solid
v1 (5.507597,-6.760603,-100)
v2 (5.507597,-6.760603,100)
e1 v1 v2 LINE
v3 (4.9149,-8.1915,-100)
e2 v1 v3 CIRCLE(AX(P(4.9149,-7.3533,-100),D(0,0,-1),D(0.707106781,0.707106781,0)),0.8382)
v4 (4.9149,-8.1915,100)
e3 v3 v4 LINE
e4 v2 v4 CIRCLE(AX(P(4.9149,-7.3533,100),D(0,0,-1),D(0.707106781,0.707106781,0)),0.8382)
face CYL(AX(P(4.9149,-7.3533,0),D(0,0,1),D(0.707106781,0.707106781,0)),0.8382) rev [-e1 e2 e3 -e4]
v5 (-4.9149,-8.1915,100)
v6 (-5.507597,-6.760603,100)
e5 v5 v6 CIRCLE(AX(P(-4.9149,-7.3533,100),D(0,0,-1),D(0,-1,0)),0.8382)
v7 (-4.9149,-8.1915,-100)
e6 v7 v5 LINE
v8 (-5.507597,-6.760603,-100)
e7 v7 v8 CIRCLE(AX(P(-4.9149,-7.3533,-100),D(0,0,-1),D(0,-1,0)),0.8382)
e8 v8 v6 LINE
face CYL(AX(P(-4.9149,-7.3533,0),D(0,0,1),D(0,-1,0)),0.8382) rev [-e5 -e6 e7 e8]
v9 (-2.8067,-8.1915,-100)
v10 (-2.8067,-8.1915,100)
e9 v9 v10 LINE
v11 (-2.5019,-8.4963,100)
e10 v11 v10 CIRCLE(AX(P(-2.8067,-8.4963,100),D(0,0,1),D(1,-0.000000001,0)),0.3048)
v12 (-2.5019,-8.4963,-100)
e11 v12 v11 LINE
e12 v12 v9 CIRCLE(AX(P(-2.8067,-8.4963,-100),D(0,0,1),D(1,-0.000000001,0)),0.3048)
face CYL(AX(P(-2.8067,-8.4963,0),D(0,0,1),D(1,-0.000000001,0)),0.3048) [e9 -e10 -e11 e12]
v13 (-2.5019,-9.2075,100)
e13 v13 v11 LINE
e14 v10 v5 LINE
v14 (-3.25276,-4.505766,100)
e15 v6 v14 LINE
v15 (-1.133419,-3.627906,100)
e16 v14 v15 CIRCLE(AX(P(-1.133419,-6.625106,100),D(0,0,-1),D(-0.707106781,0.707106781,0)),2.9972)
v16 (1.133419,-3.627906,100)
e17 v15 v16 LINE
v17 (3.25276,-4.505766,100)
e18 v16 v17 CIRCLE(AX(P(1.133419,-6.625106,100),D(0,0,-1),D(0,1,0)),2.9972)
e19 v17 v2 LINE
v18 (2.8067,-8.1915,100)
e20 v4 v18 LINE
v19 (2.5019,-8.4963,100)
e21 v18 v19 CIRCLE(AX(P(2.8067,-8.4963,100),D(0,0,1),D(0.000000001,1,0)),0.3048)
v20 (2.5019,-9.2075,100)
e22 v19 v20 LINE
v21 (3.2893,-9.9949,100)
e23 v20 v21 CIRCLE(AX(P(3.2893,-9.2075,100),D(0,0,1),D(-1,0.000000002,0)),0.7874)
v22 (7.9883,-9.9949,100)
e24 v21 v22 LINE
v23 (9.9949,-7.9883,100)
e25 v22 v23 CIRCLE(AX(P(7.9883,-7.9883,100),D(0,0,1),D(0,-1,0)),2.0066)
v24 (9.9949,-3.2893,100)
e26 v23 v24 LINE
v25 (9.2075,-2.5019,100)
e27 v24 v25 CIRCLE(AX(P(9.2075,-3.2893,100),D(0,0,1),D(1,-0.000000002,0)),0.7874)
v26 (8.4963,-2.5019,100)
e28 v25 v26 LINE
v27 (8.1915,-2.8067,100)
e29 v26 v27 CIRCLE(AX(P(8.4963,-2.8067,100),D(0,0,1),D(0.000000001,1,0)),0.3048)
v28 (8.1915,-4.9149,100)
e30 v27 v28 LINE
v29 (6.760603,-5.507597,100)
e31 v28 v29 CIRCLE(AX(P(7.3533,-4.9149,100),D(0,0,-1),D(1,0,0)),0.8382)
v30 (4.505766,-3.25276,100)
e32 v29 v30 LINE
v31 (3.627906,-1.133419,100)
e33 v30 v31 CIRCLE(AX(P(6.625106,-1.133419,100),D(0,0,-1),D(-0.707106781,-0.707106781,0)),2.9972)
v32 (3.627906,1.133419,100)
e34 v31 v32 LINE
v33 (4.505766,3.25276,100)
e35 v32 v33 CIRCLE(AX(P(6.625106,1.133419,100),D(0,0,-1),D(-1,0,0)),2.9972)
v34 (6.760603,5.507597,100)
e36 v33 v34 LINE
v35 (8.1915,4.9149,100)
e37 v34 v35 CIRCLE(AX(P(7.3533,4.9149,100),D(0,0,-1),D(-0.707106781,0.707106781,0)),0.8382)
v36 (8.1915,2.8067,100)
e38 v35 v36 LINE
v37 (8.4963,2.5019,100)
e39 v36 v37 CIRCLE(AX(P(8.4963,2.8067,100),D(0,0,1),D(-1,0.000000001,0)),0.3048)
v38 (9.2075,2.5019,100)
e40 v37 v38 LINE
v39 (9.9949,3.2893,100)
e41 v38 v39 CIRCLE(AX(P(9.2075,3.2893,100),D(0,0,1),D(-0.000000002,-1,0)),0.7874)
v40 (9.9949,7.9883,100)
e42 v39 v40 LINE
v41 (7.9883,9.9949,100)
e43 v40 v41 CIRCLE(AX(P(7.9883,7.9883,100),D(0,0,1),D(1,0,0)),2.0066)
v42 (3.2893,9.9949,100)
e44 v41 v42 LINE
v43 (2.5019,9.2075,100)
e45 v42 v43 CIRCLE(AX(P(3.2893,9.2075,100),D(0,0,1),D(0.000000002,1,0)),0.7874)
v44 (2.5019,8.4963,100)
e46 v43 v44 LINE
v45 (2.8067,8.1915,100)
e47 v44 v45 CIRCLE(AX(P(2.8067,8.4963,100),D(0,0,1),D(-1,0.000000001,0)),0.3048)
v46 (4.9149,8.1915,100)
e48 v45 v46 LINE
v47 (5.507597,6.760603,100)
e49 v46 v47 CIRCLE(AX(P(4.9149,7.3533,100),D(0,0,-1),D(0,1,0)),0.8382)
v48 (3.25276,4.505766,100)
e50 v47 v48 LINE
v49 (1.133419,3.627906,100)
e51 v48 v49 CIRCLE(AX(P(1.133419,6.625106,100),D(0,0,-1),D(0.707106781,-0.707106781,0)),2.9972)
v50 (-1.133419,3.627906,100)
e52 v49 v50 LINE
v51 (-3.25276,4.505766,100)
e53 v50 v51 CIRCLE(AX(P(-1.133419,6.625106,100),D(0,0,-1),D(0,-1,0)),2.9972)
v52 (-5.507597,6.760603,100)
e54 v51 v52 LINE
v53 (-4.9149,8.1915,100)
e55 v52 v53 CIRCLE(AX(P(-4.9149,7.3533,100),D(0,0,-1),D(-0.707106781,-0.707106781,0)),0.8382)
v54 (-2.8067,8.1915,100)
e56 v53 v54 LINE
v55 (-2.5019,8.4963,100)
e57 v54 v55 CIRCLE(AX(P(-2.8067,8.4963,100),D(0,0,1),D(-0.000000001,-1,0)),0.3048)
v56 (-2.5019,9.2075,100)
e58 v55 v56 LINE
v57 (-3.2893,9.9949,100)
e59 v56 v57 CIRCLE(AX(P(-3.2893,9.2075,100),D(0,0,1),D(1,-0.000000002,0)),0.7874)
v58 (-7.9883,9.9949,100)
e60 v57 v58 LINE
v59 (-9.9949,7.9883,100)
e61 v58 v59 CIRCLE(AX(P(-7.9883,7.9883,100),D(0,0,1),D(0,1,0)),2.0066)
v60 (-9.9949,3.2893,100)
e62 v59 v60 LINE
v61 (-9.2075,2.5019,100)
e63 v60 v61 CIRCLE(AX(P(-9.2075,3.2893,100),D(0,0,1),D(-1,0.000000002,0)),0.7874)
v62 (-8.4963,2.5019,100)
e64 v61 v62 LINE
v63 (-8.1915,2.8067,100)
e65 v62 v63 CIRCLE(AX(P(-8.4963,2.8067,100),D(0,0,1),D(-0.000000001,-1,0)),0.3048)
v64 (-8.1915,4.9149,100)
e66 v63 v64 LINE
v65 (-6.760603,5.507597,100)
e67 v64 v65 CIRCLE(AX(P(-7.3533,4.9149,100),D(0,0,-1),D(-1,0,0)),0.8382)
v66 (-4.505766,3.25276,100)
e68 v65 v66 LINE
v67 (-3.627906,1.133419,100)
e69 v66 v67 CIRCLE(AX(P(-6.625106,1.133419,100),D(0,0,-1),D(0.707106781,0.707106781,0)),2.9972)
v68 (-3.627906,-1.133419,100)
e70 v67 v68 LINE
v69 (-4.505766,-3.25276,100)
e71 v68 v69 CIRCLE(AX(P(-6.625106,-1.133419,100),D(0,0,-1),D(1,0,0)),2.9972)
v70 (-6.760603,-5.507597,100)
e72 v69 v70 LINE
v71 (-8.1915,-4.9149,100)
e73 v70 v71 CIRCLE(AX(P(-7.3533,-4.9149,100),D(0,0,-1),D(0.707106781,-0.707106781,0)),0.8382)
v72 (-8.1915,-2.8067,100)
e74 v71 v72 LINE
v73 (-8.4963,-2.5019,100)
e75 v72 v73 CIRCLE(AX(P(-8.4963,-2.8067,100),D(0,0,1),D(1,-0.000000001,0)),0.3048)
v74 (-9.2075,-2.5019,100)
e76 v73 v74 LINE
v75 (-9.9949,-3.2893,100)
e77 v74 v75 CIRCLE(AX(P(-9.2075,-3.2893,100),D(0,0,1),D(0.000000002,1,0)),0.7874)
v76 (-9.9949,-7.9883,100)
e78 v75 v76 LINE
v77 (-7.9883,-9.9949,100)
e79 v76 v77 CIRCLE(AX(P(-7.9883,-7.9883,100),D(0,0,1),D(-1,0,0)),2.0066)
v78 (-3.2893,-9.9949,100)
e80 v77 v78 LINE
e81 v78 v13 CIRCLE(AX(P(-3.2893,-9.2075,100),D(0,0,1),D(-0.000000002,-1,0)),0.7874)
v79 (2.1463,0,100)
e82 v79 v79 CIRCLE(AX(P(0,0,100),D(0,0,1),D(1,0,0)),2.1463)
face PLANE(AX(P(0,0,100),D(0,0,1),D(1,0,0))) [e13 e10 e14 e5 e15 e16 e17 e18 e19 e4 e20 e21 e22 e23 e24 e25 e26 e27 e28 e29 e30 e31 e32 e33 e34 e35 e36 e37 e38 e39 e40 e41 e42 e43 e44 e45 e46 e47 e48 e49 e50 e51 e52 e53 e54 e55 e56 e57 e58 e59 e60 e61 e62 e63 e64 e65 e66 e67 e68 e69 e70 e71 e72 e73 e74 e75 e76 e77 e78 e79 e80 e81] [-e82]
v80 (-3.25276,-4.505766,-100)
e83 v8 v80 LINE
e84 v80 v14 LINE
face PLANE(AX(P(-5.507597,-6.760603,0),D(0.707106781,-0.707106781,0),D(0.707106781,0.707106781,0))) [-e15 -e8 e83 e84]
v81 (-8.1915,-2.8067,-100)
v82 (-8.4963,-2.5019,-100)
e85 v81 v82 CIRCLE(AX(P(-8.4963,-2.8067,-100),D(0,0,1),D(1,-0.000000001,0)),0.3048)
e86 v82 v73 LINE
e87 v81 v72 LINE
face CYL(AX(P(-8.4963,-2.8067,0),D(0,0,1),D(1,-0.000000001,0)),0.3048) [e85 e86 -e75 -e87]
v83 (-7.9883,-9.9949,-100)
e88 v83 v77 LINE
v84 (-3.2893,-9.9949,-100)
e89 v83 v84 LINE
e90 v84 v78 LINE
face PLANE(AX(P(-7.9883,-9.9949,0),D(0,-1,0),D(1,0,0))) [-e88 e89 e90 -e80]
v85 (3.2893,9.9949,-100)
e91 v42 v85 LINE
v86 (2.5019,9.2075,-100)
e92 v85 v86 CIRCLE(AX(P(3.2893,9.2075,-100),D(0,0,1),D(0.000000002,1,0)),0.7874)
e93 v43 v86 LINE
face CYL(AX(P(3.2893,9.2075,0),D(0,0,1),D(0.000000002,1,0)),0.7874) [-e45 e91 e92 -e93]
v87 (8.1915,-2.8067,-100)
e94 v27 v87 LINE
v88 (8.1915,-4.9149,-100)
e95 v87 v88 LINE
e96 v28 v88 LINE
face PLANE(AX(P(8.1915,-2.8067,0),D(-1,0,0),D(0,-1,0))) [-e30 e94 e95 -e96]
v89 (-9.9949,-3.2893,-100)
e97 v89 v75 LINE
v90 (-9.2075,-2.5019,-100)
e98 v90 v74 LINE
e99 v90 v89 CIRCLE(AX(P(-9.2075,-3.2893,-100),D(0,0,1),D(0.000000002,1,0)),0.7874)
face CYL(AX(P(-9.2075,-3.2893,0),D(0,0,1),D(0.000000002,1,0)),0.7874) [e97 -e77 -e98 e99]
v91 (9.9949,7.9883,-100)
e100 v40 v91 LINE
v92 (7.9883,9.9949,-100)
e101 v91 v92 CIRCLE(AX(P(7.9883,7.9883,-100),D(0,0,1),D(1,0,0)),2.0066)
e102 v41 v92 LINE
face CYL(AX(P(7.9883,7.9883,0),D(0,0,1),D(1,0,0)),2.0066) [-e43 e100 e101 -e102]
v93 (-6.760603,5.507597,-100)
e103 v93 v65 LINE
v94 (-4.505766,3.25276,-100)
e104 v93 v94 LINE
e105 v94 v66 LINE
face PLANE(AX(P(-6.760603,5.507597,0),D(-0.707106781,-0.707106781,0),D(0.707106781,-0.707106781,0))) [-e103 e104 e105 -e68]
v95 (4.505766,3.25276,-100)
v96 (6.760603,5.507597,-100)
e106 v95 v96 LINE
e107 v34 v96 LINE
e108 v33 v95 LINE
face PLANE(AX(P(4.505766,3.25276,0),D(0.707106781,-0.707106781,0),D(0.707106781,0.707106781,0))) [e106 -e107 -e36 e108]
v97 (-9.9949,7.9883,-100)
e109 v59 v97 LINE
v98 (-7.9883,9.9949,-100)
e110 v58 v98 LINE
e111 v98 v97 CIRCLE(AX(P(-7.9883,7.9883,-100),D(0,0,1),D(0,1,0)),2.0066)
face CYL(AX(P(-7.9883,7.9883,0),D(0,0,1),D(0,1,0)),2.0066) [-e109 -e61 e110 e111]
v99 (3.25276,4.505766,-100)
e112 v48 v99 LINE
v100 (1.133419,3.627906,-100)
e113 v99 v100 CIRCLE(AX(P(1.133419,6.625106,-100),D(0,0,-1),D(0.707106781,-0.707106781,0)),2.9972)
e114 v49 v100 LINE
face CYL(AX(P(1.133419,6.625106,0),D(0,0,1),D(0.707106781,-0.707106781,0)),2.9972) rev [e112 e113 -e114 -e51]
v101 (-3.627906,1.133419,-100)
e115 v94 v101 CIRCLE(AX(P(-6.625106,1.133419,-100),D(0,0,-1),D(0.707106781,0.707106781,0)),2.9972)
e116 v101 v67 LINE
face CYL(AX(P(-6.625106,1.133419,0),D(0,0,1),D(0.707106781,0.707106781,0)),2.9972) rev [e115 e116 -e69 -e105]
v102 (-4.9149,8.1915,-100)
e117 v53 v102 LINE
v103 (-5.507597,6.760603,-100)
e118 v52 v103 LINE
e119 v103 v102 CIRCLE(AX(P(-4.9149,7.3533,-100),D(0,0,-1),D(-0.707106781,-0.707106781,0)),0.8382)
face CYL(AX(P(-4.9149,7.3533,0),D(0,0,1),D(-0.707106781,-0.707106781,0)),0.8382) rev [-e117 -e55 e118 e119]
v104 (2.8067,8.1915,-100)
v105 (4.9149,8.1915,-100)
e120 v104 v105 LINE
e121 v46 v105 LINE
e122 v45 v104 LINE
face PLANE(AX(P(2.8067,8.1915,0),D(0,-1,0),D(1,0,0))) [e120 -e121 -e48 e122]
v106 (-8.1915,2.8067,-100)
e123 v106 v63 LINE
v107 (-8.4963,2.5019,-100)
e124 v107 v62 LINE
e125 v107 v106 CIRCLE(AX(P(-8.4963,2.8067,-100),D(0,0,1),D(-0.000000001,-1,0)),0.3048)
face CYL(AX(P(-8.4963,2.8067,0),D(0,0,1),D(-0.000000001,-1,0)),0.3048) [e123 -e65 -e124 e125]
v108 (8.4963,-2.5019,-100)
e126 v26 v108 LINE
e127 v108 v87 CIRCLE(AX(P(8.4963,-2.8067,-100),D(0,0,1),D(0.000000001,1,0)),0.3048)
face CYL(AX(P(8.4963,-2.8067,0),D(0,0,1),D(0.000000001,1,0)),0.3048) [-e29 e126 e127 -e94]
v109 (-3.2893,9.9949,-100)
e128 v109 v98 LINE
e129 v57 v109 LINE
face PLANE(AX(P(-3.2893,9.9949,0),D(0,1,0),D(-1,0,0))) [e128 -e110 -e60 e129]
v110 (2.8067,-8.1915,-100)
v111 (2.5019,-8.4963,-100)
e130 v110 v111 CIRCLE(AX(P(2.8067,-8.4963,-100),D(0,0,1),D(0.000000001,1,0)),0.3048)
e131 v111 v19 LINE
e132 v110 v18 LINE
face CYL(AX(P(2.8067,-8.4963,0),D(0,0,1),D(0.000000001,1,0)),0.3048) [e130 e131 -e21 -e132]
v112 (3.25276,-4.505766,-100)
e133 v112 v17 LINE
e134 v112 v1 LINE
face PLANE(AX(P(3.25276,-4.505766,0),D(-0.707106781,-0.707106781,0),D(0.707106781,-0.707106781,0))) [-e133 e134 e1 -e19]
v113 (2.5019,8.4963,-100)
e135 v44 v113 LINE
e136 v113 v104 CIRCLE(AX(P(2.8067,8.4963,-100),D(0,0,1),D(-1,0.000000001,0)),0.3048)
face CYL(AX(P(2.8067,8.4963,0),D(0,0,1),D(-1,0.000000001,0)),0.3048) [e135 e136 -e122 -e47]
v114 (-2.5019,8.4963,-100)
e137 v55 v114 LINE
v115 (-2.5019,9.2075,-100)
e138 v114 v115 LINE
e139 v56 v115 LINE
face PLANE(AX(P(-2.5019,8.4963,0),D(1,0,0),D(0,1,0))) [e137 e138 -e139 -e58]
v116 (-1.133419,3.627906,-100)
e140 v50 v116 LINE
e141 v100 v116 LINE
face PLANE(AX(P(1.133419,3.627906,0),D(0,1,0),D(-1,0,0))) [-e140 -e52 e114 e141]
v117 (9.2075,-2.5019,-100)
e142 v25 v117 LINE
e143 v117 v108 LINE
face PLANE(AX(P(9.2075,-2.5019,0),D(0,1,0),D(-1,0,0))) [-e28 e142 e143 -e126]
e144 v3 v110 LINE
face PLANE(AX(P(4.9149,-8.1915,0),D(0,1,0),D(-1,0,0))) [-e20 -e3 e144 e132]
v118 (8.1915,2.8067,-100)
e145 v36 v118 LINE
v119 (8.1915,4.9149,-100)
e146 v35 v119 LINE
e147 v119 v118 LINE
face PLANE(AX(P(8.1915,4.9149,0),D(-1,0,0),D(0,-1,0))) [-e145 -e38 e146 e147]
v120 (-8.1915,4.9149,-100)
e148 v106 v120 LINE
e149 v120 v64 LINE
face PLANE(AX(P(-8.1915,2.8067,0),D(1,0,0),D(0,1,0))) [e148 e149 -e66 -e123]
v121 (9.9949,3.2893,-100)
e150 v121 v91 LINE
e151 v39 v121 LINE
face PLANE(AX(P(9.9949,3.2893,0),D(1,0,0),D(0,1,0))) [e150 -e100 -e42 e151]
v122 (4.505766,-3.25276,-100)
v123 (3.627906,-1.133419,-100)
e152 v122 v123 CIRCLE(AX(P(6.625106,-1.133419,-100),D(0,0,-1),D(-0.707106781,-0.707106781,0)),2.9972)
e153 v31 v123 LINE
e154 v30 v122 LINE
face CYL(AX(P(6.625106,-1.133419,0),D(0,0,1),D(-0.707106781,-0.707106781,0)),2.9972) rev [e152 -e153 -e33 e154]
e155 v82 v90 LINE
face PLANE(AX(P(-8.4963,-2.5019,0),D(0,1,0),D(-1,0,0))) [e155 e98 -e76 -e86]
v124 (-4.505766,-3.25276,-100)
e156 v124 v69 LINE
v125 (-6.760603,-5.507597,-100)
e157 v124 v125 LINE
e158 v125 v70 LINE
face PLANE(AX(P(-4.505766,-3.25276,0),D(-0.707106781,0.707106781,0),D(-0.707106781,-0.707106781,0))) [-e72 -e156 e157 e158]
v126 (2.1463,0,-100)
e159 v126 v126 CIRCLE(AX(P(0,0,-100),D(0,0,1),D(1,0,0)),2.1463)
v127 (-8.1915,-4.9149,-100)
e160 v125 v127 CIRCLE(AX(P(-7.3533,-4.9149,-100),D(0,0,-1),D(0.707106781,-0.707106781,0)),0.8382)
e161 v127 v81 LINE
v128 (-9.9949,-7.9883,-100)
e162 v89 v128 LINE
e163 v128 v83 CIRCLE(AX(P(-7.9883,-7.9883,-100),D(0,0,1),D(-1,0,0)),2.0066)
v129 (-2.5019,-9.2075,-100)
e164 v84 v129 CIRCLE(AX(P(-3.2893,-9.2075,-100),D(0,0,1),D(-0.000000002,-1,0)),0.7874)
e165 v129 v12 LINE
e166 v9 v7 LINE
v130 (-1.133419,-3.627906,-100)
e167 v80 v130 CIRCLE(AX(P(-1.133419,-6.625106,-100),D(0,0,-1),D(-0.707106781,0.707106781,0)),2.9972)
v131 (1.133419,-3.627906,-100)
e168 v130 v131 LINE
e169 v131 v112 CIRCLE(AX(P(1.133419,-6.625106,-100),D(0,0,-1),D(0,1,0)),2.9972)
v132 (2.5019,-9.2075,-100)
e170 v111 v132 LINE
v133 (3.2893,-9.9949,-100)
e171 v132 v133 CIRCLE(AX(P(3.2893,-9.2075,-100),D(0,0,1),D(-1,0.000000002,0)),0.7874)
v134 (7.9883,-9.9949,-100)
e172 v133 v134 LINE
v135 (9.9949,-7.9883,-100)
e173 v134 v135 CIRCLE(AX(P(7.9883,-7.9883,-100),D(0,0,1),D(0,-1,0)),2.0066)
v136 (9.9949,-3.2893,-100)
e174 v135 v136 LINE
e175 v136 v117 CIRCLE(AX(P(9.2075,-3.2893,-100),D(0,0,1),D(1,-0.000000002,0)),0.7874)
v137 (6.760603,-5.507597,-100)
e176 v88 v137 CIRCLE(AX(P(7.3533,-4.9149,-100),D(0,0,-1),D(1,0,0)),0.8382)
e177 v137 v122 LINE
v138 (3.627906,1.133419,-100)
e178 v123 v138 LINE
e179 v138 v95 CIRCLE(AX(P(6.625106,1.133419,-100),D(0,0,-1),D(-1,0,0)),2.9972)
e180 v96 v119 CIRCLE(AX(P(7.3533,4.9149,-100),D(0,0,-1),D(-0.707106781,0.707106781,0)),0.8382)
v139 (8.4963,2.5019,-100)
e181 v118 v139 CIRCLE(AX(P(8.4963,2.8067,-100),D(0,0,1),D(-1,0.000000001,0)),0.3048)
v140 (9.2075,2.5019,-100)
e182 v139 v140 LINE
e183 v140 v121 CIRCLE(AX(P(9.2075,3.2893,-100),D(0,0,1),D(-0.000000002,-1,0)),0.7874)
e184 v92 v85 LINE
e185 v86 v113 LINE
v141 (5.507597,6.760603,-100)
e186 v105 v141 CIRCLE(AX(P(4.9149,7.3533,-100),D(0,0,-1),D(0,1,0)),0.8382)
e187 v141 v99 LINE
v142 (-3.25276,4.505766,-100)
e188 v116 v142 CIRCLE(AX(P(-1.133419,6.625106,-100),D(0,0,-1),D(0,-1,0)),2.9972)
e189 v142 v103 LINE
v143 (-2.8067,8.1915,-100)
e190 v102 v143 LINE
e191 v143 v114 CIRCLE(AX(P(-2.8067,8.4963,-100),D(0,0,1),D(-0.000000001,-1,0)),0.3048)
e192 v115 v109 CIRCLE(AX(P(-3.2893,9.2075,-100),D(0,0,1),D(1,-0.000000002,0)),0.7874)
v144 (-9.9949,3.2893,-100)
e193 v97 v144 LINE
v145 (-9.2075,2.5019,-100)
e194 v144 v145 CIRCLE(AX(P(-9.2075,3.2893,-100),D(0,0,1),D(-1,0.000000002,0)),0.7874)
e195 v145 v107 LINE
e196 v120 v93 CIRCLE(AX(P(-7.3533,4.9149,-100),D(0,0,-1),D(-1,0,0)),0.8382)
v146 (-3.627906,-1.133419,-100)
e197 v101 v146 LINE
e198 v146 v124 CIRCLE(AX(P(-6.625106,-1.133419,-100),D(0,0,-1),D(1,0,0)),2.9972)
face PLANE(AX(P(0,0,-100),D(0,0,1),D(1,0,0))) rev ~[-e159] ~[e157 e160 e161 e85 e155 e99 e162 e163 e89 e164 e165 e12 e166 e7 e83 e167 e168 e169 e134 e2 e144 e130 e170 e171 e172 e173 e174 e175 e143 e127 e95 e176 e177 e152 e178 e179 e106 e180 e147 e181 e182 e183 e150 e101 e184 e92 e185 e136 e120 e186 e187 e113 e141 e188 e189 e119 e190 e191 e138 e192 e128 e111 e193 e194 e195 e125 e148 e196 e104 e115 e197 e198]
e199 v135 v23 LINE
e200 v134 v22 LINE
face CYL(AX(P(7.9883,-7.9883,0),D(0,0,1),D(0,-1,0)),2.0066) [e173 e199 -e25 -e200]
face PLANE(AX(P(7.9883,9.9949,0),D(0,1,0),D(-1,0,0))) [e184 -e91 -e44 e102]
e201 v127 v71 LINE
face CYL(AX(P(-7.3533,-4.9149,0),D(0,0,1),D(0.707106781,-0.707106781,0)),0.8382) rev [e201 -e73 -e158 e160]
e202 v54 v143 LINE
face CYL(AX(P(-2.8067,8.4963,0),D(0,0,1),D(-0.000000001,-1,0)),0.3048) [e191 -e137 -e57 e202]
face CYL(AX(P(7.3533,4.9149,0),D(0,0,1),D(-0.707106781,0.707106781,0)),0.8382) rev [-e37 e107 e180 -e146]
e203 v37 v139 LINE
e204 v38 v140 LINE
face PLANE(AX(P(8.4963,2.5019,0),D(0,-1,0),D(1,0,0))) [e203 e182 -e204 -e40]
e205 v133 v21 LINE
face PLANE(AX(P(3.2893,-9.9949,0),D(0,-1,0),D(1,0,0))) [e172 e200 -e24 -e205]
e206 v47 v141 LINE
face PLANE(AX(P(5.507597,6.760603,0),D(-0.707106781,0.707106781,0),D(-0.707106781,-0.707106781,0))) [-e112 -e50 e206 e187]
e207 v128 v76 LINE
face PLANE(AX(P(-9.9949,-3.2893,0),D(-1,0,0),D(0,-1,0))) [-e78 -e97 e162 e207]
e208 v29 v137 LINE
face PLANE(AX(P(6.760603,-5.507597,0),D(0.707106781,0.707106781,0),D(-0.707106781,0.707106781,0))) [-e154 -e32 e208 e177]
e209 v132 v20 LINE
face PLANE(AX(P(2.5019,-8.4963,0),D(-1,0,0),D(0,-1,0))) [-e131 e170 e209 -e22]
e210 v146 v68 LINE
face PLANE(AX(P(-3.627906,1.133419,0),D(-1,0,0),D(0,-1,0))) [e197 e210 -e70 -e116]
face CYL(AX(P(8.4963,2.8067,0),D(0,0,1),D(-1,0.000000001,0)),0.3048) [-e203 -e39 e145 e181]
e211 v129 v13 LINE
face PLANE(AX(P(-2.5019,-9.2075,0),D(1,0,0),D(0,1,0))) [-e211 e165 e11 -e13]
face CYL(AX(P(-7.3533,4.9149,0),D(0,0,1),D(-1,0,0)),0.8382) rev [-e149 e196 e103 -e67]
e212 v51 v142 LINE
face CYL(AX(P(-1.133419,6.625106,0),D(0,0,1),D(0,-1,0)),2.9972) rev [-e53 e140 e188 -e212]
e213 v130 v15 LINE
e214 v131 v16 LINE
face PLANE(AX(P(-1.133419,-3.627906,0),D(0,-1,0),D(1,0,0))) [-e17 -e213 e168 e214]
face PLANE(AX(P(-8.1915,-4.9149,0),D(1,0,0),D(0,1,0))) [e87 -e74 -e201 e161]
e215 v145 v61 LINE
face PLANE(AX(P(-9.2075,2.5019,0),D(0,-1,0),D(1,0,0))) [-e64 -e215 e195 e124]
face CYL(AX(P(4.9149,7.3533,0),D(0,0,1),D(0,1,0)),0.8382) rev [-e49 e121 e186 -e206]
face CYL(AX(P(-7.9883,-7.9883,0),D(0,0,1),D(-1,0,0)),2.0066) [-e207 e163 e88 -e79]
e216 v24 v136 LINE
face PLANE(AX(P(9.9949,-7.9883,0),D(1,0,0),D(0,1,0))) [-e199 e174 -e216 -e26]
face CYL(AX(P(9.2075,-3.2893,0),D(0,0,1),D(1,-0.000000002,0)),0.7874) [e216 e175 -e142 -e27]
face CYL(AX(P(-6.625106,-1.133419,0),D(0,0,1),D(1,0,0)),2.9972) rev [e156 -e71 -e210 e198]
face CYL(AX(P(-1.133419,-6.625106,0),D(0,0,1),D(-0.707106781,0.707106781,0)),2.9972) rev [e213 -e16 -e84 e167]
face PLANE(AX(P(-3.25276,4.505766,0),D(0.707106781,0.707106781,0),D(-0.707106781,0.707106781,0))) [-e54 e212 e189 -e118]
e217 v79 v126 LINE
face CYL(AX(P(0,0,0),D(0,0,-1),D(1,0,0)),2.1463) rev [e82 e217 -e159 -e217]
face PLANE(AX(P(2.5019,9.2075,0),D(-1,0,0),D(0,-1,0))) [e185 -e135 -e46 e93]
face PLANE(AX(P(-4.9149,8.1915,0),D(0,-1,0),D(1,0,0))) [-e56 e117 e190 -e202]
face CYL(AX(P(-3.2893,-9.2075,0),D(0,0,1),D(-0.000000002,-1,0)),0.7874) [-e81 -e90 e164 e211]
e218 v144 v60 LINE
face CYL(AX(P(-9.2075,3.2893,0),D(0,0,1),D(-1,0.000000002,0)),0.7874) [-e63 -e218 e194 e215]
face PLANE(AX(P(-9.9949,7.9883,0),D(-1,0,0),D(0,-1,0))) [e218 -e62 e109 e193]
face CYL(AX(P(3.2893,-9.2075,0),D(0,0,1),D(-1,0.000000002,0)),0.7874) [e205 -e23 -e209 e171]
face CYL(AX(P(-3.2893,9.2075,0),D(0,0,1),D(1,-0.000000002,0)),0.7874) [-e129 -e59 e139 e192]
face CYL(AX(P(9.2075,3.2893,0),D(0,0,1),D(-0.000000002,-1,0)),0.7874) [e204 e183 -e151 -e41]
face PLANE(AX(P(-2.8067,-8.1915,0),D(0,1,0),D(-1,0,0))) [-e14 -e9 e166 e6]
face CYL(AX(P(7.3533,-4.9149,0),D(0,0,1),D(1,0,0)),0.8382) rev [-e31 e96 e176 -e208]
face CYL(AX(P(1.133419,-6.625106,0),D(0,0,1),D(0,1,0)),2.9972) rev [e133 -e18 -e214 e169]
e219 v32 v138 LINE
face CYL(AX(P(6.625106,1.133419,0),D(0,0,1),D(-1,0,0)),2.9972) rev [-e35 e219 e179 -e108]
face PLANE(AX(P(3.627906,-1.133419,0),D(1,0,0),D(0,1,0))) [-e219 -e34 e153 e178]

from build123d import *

# Parameters (mm, degrees)
SKETCH1_R           = 2.1463
BOSS_EXTRUDE1_DEPTH = 100


with BuildPart() as part:
    # Sketch1 → Boss-Extrude1 (new, symmetric)
    with BuildSketch(Plane.XY):
        with BuildLine():
            Line((-9.9949, 7.9883), (-9.9949, 3.2893))
            ThreePointArc((-9.9949, 3.2893), (-9.76427588, 2.73252412), (-9.2075, 2.5019))
            Line((-9.2075, 2.5019), (-8.4963, 2.5019))
            ThreePointArc((-8.4963, 2.5019), (-8.280773853, 2.591173853), (-8.1915, 2.8067))
            Line((-8.1915, 2.8067), (-8.1915, 4.9149))
            ThreePointArc((-8.1915, 4.9149), (-7.674065253, 5.689295824), (-6.760603096, 5.507596904))
            Line((-6.760603096, 5.507596904), (-4.505765747, 3.252759555))
            ThreePointArc((-4.505765747, 3.252759555), (-3.856054457, 2.280397894), (-3.627906192, 1.133419111))
            Line((-3.627906192, 1.133419111), (-3.627906192, -1.133419111))
            ThreePointArc((-3.627906192, -1.133419111), (-3.856054457, -2.280397894), (-4.505765747, -3.252759555))
            Line((-4.505765747, -3.252759555), (-6.760603096, -5.507596904))
            ThreePointArc((-6.760603096, -5.507596904), (-7.674065253, -5.689295824), (-8.1915, -4.9149))
            Line((-8.1915, -4.9149), (-8.1915, -2.8067))
            ThreePointArc((-8.1915, -2.8067), (-8.280773853, -2.591173853), (-8.4963, -2.5019))
            Line((-8.4963, -2.5019), (-9.2075, -2.5019))
            ThreePointArc((-9.2075, -2.5019), (-9.76427588, -2.73252412), (-9.9949, -3.2893))
            Line((-9.9949, -3.2893), (-9.9949, -7.9883))
            ThreePointArc((-9.9949, -7.9883), (-9.407180467, -9.407180467), (-7.9883, -9.9949))
            Line((-7.9883, -9.9949), (-3.2893, -9.9949))
            ThreePointArc((-3.2893, -9.9949), (-2.73252412, -9.76427588), (-2.5019, -9.2075))
            Line((-2.5019, -9.2075), (-2.5019, -8.4963))
            ThreePointArc((-2.5019, -8.4963), (-2.591173853, -8.280773853), (-2.8067, -8.1915))
            Line((-2.8067, -8.1915), (-4.9149, -8.1915))
            ThreePointArc((-4.9149, -8.1915), (-5.689295824, -7.674065253), (-5.507596904, -6.760603096))
            Line((-5.507596904, -6.760603096), (-3.252759555, -4.505765747))
            ThreePointArc((-3.252759555, -4.505765747), (-2.280397894, -3.856054457), (-1.133419111, -3.627906192))
            Line((-1.133419111, -3.627906192), (1.133419111, -3.627906192))
            ThreePointArc((1.133419111, -3.627906192), (2.280397894, -3.856054457), (3.252759555, -4.505765747))
            Line((3.252759555, -4.505765747), (5.507596904, -6.760603096))
            ThreePointArc((5.507596904, -6.760603096), (5.689295824, -7.674065253), (4.9149, -8.1915))
            Line((4.9149, -8.1915), (2.8067, -8.1915))
            ThreePointArc((2.8067, -8.1915), (2.591173853, -8.280773853), (2.5019, -8.4963))
            Line((2.5019, -8.4963), (2.5019, -9.2075))
            ThreePointArc((2.5019, -9.2075), (2.73252412, -9.76427588), (3.2893, -9.9949))
            Line((3.2893, -9.9949), (7.9883, -9.9949))
            ThreePointArc((7.9883, -9.9949), (9.407180467, -9.407180467), (9.9949, -7.9883))
            Line((9.9949, -7.9883), (9.9949, -3.2893))
            ThreePointArc((9.9949, -3.2893), (9.76427588, -2.73252412), (9.2075, -2.5019))
            Line((9.2075, -2.5019), (8.4963, -2.5019))
            ThreePointArc((8.4963, -2.5019), (8.280773853, -2.591173853), (8.1915, -2.8067))
            Line((8.1915, -2.8067), (8.1915, -4.9149))
            ThreePointArc((8.1915, -4.9149), (7.674065253, -5.689295824), (6.760603096, -5.507596904))
            Line((6.760603096, -5.507596904), (4.505765747, -3.252759555))
            ThreePointArc((4.505765747, -3.252759555), (3.856054457, -2.280397894), (3.627906192, -1.133419111))
            Line((3.627906192, -1.133419111), (3.627906192, 1.133419111))
            ThreePointArc((3.627906192, 1.133419111), (3.856054457, 2.280397894), (4.505765747, 3.252759555))
            Line((4.505765747, 3.252759555), (6.760603096, 5.507596904))
            ThreePointArc((6.760603096, 5.507596904), (7.674065253, 5.689295824), (8.1915, 4.9149))
            Line((8.1915, 4.9149), (8.1915, 2.8067))
            ThreePointArc((8.1915, 2.8067), (8.280773853, 2.591173853), (8.4963, 2.5019))
            Line((8.4963, 2.5019), (9.2075, 2.5019))
            ThreePointArc((9.2075, 2.5019), (9.76427588, 2.73252412), (9.9949, 3.2893))
            Line((9.9949, 3.2893), (9.9949, 7.9883))
            ThreePointArc((9.9949, 7.9883), (9.407180467, 9.407180467), (7.9883, 9.9949))
            Line((7.9883, 9.9949), (3.2893, 9.9949))
            ThreePointArc((3.2893, 9.9949), (2.73252412, 9.76427588), (2.5019, 9.2075))
            Line((2.5019, 9.2075), (2.5019, 8.4963))
            ThreePointArc((2.5019, 8.4963), (2.591173853, 8.280773853), (2.8067, 8.1915))
            Line((2.8067, 8.1915), (4.9149, 8.1915))
            ThreePointArc((4.9149, 8.1915), (5.689295824, 7.674065253), (5.507596904, 6.760603096))
            Line((5.507596904, 6.760603096), (3.252759555, 4.505765747))
            ThreePointArc((3.252759555, 4.505765747), (2.280397894, 3.856054457), (1.133419111, 3.627906192))
            Line((1.133419111, 3.627906192), (-1.133419111, 3.627906192))
            ThreePointArc((-1.133419111, 3.627906192), (-2.280397894, 3.856054457), (-3.252759555, 4.505765747))
            Line((-3.252759555, 4.505765747), (-5.507596904, 6.760603096))
            ThreePointArc((-5.507596904, 6.760603096), (-5.689295824, 7.674065253), (-4.9149, 8.1915))
            Line((-4.9149, 8.1915), (-2.8067, 8.1915))
            ThreePointArc((-2.8067, 8.1915), (-2.591173853, 8.280773853), (-2.5019, 8.4963))
            Line((-2.5019, 8.4963), (-2.5019, 9.2075))
            ThreePointArc((-2.5019, 9.2075), (-2.73252412, 9.76427588), (-3.2893, 9.9949))
            Line((-3.2893, 9.9949), (-7.9883, 9.9949))
            ThreePointArc((-7.9883, 9.9949), (-9.407180467, 9.407180467), (-9.9949, 7.9883))
        make_face()
        Circle(SKETCH1_R, mode=Mode.SUBTRACT)
    extrude(amount=BOSS_EXTRUDE1_DEPTH, both=True)


solid = part.part
